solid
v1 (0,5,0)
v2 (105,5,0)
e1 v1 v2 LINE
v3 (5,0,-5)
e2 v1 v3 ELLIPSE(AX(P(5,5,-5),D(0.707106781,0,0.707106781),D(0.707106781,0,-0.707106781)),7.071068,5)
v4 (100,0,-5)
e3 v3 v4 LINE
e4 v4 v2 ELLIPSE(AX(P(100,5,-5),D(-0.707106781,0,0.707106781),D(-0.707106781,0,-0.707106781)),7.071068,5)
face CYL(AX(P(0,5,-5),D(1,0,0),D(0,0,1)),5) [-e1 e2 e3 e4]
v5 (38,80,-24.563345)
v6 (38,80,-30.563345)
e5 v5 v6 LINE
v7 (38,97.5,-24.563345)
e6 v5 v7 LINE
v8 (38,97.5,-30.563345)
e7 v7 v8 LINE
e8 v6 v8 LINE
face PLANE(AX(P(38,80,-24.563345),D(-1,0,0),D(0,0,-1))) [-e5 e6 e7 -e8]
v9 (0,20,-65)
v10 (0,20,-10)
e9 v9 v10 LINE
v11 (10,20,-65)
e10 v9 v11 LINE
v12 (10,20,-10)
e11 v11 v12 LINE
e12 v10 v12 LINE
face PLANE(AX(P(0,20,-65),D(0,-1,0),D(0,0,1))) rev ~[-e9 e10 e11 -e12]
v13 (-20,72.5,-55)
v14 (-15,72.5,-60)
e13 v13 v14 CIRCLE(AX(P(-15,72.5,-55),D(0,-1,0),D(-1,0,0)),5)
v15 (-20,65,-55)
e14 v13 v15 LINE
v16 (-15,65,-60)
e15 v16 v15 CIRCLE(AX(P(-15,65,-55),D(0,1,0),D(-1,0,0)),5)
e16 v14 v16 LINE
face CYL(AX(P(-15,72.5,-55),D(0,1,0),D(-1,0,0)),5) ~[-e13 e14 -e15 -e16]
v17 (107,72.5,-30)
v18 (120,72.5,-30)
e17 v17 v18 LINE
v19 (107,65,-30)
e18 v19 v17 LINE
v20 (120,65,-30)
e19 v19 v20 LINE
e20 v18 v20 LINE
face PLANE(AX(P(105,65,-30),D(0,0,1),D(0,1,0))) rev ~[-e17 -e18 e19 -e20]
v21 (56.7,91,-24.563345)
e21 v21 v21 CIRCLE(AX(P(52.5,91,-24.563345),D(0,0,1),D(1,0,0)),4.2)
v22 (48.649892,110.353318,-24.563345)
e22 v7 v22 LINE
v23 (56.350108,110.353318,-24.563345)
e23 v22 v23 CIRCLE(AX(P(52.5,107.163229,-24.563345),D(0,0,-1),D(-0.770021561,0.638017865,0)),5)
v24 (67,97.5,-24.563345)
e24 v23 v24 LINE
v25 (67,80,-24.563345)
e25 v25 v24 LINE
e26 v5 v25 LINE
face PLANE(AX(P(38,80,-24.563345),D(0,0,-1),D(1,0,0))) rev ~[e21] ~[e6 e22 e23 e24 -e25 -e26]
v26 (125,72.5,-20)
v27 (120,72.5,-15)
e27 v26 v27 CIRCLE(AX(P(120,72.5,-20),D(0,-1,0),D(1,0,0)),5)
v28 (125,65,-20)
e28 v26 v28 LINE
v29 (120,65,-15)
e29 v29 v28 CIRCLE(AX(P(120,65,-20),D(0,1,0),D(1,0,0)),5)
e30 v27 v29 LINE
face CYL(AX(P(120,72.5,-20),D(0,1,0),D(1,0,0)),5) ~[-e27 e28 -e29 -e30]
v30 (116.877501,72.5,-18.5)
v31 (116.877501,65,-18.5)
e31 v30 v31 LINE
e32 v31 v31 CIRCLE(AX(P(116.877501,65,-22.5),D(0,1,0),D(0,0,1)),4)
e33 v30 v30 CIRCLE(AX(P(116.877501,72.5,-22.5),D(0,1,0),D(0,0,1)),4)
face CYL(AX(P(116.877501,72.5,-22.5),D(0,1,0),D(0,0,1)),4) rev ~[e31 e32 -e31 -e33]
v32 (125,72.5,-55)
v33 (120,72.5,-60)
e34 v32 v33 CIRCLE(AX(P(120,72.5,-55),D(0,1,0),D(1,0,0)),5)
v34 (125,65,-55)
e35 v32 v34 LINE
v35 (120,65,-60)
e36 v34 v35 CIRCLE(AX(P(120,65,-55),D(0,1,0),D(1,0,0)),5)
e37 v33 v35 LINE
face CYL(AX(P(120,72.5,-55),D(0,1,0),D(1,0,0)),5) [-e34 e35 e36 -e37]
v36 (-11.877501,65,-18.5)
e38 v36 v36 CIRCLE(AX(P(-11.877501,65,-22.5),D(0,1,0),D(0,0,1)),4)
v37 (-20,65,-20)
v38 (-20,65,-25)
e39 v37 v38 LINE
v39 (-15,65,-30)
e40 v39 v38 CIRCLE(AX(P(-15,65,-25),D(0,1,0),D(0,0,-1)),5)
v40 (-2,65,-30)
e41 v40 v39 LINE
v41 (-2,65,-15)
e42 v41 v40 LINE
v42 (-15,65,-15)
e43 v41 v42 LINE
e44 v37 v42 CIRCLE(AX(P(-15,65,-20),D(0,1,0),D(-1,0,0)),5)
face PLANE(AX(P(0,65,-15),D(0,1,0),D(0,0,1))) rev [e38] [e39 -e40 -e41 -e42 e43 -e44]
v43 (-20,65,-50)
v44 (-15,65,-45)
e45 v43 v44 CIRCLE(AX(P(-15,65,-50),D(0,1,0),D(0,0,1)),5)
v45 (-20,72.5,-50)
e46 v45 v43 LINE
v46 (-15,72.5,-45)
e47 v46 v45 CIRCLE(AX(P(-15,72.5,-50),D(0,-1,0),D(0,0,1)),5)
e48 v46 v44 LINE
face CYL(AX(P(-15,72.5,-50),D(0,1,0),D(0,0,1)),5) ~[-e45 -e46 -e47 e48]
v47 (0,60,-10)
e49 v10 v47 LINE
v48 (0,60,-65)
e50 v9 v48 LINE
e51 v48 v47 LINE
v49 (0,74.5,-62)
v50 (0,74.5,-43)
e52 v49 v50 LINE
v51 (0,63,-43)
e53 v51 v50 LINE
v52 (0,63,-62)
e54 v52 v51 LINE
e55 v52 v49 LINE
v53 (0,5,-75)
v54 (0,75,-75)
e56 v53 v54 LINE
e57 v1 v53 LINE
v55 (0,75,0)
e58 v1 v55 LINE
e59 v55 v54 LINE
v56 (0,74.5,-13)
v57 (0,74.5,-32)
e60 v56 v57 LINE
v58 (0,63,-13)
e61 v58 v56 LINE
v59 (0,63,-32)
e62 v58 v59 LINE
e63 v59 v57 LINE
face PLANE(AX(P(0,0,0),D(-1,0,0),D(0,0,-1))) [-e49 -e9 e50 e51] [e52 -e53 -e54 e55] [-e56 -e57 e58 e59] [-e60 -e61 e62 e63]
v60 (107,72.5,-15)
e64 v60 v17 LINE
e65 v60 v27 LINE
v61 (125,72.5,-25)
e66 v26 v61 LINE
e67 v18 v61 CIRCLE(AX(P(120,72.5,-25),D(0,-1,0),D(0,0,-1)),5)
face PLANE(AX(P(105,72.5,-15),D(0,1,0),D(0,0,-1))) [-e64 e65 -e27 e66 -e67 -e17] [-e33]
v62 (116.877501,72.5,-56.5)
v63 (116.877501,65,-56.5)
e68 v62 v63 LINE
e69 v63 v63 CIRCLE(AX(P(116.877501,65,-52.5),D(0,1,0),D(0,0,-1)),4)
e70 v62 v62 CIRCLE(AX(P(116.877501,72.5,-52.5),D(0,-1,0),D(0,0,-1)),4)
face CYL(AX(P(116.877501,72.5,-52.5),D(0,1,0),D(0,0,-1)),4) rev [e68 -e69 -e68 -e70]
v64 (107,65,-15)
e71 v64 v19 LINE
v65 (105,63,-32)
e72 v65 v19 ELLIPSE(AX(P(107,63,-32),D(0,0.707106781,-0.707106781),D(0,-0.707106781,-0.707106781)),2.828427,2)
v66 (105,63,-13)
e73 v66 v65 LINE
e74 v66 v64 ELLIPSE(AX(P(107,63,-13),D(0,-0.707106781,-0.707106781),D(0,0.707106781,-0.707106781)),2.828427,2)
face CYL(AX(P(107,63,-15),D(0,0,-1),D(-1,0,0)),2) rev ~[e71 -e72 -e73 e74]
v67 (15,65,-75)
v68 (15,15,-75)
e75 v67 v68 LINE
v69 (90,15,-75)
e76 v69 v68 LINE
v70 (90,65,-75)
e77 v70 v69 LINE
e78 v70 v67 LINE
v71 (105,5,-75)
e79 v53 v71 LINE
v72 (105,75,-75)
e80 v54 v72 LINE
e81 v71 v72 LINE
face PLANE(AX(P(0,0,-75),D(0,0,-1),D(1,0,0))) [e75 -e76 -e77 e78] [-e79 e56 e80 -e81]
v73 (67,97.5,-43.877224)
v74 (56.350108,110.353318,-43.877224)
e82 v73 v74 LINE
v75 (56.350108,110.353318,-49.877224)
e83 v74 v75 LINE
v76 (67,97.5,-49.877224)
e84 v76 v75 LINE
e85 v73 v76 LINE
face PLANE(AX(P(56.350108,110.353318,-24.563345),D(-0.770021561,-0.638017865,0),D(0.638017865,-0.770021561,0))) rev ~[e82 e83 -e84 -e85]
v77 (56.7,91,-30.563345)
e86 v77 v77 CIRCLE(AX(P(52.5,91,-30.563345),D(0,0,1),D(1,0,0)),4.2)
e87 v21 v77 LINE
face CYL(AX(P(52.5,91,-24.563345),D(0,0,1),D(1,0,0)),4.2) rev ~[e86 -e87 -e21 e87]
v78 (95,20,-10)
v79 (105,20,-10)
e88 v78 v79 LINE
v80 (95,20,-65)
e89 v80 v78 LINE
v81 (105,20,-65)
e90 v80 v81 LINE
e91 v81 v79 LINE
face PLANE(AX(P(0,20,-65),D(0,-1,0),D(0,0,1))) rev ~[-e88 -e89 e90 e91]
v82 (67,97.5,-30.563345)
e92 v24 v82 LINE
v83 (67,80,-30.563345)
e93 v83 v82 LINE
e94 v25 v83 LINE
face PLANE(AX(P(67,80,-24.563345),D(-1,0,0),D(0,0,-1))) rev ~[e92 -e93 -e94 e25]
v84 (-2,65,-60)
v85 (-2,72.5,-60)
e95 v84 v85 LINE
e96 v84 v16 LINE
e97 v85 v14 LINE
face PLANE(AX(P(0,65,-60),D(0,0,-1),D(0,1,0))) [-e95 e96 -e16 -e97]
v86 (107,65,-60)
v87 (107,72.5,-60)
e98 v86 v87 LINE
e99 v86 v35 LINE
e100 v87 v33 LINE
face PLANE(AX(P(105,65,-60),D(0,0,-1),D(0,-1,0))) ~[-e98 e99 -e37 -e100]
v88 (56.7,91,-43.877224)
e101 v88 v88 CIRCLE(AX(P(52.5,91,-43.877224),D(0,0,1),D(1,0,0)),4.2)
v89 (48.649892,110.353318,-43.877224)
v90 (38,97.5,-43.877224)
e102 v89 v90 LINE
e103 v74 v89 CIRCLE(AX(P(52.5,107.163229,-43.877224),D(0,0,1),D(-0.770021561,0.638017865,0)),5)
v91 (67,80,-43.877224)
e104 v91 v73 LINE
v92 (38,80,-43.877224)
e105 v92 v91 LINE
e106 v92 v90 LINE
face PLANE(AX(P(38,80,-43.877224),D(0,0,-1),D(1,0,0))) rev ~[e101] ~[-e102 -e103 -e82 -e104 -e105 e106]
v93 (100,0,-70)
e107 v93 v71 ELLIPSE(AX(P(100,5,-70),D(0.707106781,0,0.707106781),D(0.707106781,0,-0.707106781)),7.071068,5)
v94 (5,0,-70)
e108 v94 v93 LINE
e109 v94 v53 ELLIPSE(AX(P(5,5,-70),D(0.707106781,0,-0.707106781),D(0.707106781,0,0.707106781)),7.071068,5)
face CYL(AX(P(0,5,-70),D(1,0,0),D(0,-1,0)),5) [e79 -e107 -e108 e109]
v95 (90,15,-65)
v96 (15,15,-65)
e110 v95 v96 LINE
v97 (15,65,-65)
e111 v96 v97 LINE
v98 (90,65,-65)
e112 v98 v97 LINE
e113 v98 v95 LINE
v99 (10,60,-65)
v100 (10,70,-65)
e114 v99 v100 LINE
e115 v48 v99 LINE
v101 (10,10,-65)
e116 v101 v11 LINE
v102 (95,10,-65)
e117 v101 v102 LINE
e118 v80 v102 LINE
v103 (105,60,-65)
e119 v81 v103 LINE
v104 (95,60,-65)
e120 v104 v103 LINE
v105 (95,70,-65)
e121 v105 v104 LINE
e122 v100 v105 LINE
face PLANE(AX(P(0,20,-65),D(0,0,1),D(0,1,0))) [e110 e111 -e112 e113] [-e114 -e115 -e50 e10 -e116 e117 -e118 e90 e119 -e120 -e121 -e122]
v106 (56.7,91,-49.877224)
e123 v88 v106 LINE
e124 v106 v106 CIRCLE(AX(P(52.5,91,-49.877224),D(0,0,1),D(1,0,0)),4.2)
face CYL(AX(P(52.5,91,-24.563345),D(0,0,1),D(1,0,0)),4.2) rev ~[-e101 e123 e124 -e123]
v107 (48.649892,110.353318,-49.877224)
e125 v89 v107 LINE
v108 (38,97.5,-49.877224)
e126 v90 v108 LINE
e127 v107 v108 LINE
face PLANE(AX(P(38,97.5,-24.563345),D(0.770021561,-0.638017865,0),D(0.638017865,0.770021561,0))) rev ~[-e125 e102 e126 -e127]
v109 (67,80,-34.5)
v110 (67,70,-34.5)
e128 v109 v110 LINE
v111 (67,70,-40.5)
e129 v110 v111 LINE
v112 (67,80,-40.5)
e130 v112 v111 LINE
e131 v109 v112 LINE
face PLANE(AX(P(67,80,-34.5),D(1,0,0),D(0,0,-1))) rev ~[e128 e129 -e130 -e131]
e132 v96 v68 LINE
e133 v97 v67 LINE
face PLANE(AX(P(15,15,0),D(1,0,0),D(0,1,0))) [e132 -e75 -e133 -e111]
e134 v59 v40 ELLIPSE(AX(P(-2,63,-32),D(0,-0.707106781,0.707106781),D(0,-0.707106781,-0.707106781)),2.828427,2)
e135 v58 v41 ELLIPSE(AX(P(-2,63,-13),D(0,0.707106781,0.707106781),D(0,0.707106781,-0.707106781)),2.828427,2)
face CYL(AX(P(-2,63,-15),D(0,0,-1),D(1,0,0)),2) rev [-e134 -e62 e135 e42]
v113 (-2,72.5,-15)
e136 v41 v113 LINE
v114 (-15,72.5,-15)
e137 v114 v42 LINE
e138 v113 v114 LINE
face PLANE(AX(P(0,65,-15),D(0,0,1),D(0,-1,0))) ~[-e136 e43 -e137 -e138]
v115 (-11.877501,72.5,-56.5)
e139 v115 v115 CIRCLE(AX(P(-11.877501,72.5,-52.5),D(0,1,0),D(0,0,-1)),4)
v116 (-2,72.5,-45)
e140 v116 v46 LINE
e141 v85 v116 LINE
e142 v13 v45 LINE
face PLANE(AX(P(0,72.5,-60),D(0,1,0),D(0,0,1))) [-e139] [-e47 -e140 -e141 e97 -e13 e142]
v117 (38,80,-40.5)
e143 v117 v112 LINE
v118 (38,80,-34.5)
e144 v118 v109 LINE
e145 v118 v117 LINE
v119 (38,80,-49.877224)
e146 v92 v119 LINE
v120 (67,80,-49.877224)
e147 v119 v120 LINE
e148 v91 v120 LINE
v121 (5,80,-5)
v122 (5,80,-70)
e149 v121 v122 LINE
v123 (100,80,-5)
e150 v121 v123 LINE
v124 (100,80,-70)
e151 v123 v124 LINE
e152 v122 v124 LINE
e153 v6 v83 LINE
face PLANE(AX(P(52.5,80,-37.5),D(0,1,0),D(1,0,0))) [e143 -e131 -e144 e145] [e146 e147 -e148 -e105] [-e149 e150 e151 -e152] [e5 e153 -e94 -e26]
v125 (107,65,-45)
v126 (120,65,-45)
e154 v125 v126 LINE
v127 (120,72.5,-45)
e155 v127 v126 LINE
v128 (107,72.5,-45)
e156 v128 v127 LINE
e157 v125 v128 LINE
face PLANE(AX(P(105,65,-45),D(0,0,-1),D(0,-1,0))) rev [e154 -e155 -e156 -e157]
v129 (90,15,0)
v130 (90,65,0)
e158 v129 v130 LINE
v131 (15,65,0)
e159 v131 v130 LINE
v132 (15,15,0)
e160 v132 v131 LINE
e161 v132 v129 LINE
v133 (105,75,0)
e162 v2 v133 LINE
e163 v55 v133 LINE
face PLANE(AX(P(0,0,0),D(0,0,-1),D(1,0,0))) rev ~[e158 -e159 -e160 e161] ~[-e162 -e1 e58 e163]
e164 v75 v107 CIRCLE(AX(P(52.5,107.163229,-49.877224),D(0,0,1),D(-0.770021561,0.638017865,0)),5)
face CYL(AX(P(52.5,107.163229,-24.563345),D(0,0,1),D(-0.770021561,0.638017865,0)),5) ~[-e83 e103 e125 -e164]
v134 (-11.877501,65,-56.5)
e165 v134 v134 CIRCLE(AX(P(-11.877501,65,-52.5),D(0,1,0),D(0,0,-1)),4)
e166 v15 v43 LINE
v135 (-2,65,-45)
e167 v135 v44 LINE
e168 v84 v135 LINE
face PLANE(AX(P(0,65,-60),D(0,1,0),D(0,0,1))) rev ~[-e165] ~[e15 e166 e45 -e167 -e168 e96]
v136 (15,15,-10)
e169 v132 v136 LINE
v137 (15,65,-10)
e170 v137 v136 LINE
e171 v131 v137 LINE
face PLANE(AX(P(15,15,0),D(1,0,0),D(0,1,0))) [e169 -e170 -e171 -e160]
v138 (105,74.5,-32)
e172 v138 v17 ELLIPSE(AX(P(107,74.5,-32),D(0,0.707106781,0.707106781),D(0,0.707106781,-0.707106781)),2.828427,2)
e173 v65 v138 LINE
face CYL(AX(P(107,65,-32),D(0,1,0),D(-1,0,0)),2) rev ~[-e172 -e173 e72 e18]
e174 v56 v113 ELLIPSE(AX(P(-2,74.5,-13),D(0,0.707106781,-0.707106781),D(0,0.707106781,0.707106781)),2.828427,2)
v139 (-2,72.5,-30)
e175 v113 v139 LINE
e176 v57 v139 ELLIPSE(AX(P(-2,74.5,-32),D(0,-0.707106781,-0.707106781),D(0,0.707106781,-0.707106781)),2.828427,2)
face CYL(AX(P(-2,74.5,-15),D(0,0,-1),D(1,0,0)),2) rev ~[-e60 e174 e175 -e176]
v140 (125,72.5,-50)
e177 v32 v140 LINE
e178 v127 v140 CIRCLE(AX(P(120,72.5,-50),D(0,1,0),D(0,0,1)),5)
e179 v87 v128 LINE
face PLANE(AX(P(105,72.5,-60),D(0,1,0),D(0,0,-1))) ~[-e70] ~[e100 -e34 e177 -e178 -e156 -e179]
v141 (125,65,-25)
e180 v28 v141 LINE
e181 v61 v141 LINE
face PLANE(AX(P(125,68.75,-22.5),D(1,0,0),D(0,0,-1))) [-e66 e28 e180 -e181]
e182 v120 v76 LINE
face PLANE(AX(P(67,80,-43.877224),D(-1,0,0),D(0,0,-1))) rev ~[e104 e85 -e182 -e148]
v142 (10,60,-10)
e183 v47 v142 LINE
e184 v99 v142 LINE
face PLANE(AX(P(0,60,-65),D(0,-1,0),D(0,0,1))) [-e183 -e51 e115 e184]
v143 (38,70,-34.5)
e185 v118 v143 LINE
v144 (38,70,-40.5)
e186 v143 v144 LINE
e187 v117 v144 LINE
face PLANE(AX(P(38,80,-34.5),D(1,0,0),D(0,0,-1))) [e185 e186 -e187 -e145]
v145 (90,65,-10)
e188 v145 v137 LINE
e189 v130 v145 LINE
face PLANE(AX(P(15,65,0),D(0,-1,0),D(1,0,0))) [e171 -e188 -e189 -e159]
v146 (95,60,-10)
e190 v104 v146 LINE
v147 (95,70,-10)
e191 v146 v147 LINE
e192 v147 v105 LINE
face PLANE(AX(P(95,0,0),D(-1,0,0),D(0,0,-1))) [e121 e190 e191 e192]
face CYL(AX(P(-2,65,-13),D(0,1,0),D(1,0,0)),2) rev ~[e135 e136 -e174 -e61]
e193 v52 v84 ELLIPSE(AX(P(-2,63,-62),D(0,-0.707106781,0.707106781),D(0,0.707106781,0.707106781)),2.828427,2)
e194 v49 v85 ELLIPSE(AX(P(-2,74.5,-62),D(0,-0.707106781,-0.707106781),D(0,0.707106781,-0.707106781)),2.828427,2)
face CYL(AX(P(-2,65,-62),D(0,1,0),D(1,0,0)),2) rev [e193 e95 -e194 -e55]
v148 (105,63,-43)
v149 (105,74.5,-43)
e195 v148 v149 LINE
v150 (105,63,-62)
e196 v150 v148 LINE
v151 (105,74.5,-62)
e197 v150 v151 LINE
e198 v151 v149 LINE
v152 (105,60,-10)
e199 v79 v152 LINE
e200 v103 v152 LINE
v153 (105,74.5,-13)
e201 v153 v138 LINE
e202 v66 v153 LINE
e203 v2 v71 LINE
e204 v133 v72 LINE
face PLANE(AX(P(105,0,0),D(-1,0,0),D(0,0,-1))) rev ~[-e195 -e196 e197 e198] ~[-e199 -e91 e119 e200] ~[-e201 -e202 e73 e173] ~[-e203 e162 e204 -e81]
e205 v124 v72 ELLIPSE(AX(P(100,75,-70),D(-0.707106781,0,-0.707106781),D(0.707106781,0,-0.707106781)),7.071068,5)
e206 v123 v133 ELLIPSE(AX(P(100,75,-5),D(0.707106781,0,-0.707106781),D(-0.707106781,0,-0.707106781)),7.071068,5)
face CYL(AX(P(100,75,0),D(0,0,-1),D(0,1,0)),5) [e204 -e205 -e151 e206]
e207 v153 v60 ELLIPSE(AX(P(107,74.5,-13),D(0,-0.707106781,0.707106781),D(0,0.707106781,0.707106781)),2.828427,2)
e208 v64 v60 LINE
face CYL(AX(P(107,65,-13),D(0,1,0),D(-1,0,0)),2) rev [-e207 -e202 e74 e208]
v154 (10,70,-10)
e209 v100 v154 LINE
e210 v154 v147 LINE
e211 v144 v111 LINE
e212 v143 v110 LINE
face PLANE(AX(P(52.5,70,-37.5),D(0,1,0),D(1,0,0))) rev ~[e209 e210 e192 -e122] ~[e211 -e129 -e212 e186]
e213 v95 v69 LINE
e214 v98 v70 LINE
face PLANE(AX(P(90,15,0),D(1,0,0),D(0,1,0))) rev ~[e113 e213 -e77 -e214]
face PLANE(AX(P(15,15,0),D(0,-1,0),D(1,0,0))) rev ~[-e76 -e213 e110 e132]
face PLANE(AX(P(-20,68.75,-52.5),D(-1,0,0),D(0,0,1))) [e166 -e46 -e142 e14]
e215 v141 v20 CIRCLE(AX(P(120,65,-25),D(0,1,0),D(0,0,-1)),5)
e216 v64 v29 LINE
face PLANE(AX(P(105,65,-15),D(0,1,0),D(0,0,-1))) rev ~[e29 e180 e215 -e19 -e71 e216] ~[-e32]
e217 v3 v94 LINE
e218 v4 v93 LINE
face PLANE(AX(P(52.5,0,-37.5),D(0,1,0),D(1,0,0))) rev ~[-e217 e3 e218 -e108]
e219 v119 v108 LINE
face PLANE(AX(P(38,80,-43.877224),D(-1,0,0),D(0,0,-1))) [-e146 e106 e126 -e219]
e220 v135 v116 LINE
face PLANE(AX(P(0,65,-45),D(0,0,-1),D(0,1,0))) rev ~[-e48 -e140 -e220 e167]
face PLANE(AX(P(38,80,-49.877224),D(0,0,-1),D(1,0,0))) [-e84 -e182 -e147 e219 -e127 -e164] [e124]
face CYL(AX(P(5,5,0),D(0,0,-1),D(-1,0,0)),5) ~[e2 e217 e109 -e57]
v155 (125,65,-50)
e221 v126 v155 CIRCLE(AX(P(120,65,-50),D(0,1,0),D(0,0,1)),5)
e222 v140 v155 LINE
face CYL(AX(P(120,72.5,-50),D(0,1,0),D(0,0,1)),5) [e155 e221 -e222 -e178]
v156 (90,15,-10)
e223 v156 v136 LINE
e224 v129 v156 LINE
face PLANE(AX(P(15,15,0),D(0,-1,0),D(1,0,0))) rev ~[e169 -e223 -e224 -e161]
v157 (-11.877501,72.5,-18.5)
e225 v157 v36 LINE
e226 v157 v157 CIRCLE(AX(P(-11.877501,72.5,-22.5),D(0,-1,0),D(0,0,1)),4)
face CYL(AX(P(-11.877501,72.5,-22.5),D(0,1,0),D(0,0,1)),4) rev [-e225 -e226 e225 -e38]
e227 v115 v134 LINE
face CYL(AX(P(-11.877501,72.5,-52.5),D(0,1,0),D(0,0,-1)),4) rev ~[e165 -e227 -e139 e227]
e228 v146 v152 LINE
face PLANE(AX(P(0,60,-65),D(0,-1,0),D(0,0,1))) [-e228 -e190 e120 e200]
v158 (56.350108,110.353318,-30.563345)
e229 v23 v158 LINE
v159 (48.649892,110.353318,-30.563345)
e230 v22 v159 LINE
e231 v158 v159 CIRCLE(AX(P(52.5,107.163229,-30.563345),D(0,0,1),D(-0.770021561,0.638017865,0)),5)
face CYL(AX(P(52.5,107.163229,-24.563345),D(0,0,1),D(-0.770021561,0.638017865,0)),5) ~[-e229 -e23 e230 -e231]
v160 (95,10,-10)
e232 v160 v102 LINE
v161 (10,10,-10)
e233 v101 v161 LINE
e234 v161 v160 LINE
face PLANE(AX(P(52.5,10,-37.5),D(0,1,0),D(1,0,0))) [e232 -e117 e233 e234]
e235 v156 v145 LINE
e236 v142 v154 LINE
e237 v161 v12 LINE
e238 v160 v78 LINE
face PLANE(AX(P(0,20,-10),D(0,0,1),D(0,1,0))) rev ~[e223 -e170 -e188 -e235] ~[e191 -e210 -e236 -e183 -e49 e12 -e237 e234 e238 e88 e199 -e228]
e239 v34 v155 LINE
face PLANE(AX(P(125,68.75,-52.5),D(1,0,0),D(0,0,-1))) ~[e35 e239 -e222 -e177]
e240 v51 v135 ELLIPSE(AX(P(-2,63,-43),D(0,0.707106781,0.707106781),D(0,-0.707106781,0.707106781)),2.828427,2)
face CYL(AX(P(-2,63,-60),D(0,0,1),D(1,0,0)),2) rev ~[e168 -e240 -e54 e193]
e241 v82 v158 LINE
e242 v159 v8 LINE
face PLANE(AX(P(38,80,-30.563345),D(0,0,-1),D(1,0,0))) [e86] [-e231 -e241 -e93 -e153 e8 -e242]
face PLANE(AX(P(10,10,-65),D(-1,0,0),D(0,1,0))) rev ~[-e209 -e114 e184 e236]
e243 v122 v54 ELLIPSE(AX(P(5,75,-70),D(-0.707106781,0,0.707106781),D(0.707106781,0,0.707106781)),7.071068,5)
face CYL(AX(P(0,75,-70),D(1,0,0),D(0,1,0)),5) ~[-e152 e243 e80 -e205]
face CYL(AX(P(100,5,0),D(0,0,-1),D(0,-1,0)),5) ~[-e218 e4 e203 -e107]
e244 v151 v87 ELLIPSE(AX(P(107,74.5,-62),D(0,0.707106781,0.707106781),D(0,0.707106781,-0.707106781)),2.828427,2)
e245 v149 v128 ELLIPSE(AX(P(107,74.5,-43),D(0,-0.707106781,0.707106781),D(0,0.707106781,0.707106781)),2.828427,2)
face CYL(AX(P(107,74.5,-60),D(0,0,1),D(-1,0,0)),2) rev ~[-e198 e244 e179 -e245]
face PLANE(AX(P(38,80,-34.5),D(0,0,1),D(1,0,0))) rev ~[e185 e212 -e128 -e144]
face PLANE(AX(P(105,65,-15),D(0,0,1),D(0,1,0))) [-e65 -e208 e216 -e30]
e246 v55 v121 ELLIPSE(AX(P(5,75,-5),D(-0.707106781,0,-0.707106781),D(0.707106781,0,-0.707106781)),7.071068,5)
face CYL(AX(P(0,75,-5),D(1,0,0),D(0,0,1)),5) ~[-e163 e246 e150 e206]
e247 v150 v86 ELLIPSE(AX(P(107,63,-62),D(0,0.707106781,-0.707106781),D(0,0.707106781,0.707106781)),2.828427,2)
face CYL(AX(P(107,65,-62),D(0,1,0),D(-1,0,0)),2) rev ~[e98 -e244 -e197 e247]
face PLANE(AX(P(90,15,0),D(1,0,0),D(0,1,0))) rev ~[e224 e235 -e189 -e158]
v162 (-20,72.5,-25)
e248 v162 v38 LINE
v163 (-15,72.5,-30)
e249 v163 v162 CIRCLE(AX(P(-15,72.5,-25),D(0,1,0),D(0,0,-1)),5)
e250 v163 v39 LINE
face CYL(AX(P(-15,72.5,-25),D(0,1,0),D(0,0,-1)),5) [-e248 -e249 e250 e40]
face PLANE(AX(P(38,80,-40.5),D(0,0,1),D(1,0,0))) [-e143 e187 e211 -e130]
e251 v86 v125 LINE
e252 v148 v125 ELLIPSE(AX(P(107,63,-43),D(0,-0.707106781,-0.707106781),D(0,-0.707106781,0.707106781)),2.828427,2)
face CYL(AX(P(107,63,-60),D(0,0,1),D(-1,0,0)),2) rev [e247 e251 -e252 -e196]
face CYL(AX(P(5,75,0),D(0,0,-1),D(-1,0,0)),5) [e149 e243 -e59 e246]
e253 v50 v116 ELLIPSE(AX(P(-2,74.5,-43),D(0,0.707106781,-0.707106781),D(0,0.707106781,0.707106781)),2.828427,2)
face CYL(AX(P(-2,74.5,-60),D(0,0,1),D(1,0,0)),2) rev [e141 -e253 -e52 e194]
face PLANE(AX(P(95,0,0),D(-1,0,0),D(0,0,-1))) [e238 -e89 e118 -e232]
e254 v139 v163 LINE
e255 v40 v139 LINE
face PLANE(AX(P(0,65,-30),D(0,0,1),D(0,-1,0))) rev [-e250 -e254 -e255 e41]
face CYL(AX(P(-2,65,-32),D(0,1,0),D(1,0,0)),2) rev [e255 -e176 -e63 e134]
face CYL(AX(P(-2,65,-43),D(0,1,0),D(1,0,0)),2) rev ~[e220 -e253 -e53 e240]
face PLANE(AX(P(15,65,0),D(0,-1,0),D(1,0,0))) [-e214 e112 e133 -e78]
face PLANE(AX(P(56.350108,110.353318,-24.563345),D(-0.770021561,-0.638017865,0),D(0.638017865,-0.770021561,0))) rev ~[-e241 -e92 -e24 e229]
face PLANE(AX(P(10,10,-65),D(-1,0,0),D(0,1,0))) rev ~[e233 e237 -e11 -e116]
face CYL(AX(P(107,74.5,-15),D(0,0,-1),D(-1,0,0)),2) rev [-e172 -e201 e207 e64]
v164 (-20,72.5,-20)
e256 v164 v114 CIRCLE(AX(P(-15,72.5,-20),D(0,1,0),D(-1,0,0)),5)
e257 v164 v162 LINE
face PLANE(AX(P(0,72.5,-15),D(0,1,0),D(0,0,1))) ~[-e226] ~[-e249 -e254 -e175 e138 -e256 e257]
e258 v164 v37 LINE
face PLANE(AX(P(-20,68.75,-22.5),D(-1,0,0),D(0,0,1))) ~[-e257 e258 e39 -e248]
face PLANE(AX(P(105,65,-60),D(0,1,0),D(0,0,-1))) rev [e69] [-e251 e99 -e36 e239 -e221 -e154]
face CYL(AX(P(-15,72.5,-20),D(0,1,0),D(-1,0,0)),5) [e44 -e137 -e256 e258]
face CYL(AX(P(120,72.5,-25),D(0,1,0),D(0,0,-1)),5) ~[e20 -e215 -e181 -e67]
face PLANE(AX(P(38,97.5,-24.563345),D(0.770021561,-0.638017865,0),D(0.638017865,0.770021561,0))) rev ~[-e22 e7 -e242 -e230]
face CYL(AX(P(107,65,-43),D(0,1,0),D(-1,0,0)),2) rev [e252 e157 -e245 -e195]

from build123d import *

# Parameters (mm, degrees)
SKETCH1_W               = 105
SKETCH1_H               = 75
BOSS_EXTRUDE1_DEPTH     = 80
SHELL1_T                = -10
SKETCH2_W               = 10
SKETCH2_H               = 60
BOSS_EXTRUDE2_DEPTH     = 60
FILLET1_R               = 5
SKETCH3_W               = 75
SKETCH3_H               = 50
CUT_EXTRUDE1_DEPTH      = 152.822264507
SKETCH4_W               = 55
SKETCH4_H               = 40
CUT_EXTRUDE2_DEPTH      = 152.822264507
SKETCH5_W               = 15
SKETCH5_H               = 7.5
BOSS_EXTRUDE3_DEPTH     = 20
SKETCH6_R               = 4
CUT_EXTRUDE3_DEPTH      = 163.807401552
MIRROR2_COPY_1_SKETCH_W = 15
MIRROR2_COPY_1_SKETCH_H = 7.5
MIRROR2_COPY_1_DEPTH    = 20
MIRROR2_COPY_2_SKETCH_R = 4
MIRROR2_COPY_2_DEPTH    = 163.807401552
FILLET3_R               = 2
SKETCH7_W               = 29
SKETCH7_H               = 6
CUT_EXTRUDE4_DEPTH      = 15
SKETCH8_W               = 29
SKETCH8_H               = 6
BOSS_EXTRUDE4_DEPTH     = 35
SKETCH9_R               = 4.2
CUT_EXTRUDE5_DEPTH      = 35


with BuildPart() as part:
    # Sketch1 → Boss-Extrude1 (new body)
    with BuildSketch(Plane(origin=(0, 0, 0), x_dir=(1, 0, 0), z_dir=(0, 1, 0))):
        with Locations((52.5, 37.5)):
            Rectangle(SKETCH1_W, SKETCH1_H)
    extrude(amount=BOSS_EXTRUDE1_DEPTH)

    # Shell1
    shell1_openings = [part.faces().sort_by_distance(p)[0] for p in [
        (0, 40, -37.5),
    ]]
    offset(amount=SHELL1_T, openings=shell1_openings, kind=Kind.INTERSECTION)

    # Sketch2 → Boss-Extrude2 (add)
    with BuildSketch(Plane.XY.offset(-65)):
        with Locations((5, 40)):
            Rectangle(SKETCH2_W, SKETCH2_H)
    extrude(amount=BOSS_EXTRUDE2_DEPTH)

    # Fillet1
    fillet1_edges = [part.edges().sort_by_distance(p)[0] for p in [
        (105, 80, -37.5),
        (52.5, 80, -75),
        (0, 80, -37.5),
        (52.5, 0, -75),
        (105, 0, -37.5),
        (52.5, 0, 0),
        (0, 0, -37.5),
        (52.5, 80, 0),
    ]]
    fillet(fillet1_edges, radius=FILLET1_R)

    # Sketch3 → Cut-Extrude1 (cut, through all)
    with BuildSketch(Plane.XY):
        with Locations((52.5, 40)):
            Rectangle(SKETCH3_W, SKETCH3_H)
    extrude(amount=-CUT_EXTRUDE1_DEPTH, mode=Mode.SUBTRACT)

    # Sketch4 → Cut-Extrude2 (cut, through all)
    with BuildSketch(Plane.ZY):
        with Locations((-37.5, 40)):
            Rectangle(SKETCH4_W, SKETCH4_H)
    extrude(amount=-CUT_EXTRUDE2_DEPTH, mode=Mode.SUBTRACT)

    # Sketch5 → Boss-Extrude3 (add)
    with BuildSketch(Plane(origin=(105, 0, 0), x_dir=(0, 0, -1), z_dir=(1, 0, 0))):
        with Locations((22.5, 68.75)):
            Rectangle(SKETCH5_W, SKETCH5_H)
    boss_extrude3 = extrude(amount=BOSS_EXTRUDE3_DEPTH)

    # Sketch6 → Cut-Extrude3 (cut, through all)
    with BuildSketch(Plane(origin=(0, 72.5, 0), x_dir=(1, 0, 0), z_dir=(0, 1, 0))):
        with BuildLine():
            Line((125, 30), (120, 30))
            ThreePointArc((120, 30), (123.535533906, 28.535533906), (125, 25))
            Line((125, 25), (125, 30))
        make_face()
        with Locations(Location((116.877501001, 22.5, 0), (0, 0, 270))):
            Circle(SKETCH6_R)
        with BuildLine():
            ThreePointArc((125, 20), (123.535533906, 16.464466094), (120, 15))
            Line((120, 15), (125, 15))
            Line((125, 15), (125, 20))
        make_face()
    cut_extrude3 = extrude(amount=-CUT_EXTRUDE3_DEPTH, mode=Mode.SUBTRACT)

    # Mirror1: Boss-Extrude3, Cut-Extrude3 across plane
    add(boss_extrude3.mirror(Plane(origin=(52.5, 0, 0), x_dir=(0, 0, 1), z_dir=(1, 0, 0))))
    add(cut_extrude3.mirror(Plane(origin=(52.5, 0, 0), x_dir=(0, 0, 1), z_dir=(1, 0, 0))), mode=Mode.SUBTRACT)

    # Mirror2: Boss-Extrude3, Cut-Extrude3 across plane
    add(boss_extrude3.mirror(Plane.XY.offset(-37.5)))
    add(cut_extrude3.mirror(Plane.XY.offset(-37.5)), mode=Mode.SUBTRACT)

    # Mirror2 copy 1 sketch → Mirror2 copy 1 (add)
    with BuildSketch(Plane(origin=(0, 0, -75), x_dir=(0, 0, 1), z_dir=(-1, 0, 0))):
        with Locations((22.5, 68.75)):
            Rectangle(MIRROR2_COPY_1_SKETCH_W, MIRROR2_COPY_1_SKETCH_H)
    extrude(amount=MIRROR2_COPY_1_DEPTH)

    # Mirror2 copy 2 sketch → Mirror2 copy 2 (cut, through all)
    with BuildSketch(Plane(origin=(105, 72.5, -75), x_dir=(-1, 0, 0), z_dir=(0, 1, 0))):
        with BuildLine():
            Line((125, 30), (120, 30))
            ThreePointArc((120, 30), (123.535533906, 28.535533906), (125, 25))
            Line((125, 25), (125, 30))
        make_face()
        with Locations(Location((116.877501001, 22.5, 0), (0, 0, 270))):
            Circle(MIRROR2_COPY_2_SKETCH_R)
        with BuildLine():
            ThreePointArc((125, 20), (123.535533906, 16.464466094), (120, 15))
            Line((120, 15), (125, 15))
            Line((125, 15), (125, 20))
        make_face()
    extrude(amount=-MIRROR2_COPY_2_DEPTH, mode=Mode.SUBTRACT)

    # Fillet3
    fillet3_edges = [part.edges().sort_by_distance(p)[0] for p in [
        (105, 68.75, -15),
        (105, 65, -22.5),
        (105, 68.75, -30),
        (105, 72.5, -22.5),
        (0, 68.75, -15),
        (0, 65, -22.5),
        (0, 68.75, -30),
        (0, 72.5, -22.5),
        (0, 68.75, -60),
        (0, 65, -52.5),
        (0, 68.75, -45),
        (0, 72.5, -52.5),
        (105, 68.75, -60),
        (105, 65, -52.5),
        (105, 68.75, -45),
        (105, 72.5, -52.5),
    ]]
    fillet(fillet3_edges, radius=FILLET3_R)

    # Sketch7 → Cut-Extrude4 (cut)
    with BuildSketch(Plane(origin=(0, 80, 0), x_dir=(1, 0, 0), z_dir=(0, 1, 0))):
        with Locations((52.5, 37.5)):
            Rectangle(SKETCH7_W, SKETCH7_H)
    extrude(amount=-CUT_EXTRUDE4_DEPTH, mode=Mode.SUBTRACT)

    # Sketch8 → Boss-Extrude4 (add)
    with BuildSketch(Plane(origin=(0, 80, 0), x_dir=(1, 0, 0), z_dir=(0, 1, 0))):
        with Locations((52.5, 46.877224158)):
            Rectangle(SKETCH8_W, SKETCH8_H)
        with Locations((52.5, 27.56334528)):
            Rectangle(SKETCH8_W, SKETCH8_H)
    extrude(amount=BOSS_EXTRUDE4_DEPTH)

    # Sketch9 → Cut-Extrude5 (cut)
    with BuildSketch(Plane.XY.offset(-24.56334528)):
        with BuildLine():
            Line((38, 115), (38, 97.5))
            Line((38, 97.5), (48.649892195, 110.353318167))
            ThreePointArc((48.649892195, 110.353318167), (52.5, 112.163228843), (56.350107805, 110.353318167))
            Line((56.350107805, 110.353318167), (67, 97.5))
            Line((67, 97.5), (67, 115))
            Line((67, 115), (38, 115))
        make_face()
        with Locations((52.5, 91)):
            Circle(SKETCH9_R)
    extrude(amount=-CUT_EXTRUDE5_DEPTH, mode=Mode.SUBTRACT)


solid = part.part
